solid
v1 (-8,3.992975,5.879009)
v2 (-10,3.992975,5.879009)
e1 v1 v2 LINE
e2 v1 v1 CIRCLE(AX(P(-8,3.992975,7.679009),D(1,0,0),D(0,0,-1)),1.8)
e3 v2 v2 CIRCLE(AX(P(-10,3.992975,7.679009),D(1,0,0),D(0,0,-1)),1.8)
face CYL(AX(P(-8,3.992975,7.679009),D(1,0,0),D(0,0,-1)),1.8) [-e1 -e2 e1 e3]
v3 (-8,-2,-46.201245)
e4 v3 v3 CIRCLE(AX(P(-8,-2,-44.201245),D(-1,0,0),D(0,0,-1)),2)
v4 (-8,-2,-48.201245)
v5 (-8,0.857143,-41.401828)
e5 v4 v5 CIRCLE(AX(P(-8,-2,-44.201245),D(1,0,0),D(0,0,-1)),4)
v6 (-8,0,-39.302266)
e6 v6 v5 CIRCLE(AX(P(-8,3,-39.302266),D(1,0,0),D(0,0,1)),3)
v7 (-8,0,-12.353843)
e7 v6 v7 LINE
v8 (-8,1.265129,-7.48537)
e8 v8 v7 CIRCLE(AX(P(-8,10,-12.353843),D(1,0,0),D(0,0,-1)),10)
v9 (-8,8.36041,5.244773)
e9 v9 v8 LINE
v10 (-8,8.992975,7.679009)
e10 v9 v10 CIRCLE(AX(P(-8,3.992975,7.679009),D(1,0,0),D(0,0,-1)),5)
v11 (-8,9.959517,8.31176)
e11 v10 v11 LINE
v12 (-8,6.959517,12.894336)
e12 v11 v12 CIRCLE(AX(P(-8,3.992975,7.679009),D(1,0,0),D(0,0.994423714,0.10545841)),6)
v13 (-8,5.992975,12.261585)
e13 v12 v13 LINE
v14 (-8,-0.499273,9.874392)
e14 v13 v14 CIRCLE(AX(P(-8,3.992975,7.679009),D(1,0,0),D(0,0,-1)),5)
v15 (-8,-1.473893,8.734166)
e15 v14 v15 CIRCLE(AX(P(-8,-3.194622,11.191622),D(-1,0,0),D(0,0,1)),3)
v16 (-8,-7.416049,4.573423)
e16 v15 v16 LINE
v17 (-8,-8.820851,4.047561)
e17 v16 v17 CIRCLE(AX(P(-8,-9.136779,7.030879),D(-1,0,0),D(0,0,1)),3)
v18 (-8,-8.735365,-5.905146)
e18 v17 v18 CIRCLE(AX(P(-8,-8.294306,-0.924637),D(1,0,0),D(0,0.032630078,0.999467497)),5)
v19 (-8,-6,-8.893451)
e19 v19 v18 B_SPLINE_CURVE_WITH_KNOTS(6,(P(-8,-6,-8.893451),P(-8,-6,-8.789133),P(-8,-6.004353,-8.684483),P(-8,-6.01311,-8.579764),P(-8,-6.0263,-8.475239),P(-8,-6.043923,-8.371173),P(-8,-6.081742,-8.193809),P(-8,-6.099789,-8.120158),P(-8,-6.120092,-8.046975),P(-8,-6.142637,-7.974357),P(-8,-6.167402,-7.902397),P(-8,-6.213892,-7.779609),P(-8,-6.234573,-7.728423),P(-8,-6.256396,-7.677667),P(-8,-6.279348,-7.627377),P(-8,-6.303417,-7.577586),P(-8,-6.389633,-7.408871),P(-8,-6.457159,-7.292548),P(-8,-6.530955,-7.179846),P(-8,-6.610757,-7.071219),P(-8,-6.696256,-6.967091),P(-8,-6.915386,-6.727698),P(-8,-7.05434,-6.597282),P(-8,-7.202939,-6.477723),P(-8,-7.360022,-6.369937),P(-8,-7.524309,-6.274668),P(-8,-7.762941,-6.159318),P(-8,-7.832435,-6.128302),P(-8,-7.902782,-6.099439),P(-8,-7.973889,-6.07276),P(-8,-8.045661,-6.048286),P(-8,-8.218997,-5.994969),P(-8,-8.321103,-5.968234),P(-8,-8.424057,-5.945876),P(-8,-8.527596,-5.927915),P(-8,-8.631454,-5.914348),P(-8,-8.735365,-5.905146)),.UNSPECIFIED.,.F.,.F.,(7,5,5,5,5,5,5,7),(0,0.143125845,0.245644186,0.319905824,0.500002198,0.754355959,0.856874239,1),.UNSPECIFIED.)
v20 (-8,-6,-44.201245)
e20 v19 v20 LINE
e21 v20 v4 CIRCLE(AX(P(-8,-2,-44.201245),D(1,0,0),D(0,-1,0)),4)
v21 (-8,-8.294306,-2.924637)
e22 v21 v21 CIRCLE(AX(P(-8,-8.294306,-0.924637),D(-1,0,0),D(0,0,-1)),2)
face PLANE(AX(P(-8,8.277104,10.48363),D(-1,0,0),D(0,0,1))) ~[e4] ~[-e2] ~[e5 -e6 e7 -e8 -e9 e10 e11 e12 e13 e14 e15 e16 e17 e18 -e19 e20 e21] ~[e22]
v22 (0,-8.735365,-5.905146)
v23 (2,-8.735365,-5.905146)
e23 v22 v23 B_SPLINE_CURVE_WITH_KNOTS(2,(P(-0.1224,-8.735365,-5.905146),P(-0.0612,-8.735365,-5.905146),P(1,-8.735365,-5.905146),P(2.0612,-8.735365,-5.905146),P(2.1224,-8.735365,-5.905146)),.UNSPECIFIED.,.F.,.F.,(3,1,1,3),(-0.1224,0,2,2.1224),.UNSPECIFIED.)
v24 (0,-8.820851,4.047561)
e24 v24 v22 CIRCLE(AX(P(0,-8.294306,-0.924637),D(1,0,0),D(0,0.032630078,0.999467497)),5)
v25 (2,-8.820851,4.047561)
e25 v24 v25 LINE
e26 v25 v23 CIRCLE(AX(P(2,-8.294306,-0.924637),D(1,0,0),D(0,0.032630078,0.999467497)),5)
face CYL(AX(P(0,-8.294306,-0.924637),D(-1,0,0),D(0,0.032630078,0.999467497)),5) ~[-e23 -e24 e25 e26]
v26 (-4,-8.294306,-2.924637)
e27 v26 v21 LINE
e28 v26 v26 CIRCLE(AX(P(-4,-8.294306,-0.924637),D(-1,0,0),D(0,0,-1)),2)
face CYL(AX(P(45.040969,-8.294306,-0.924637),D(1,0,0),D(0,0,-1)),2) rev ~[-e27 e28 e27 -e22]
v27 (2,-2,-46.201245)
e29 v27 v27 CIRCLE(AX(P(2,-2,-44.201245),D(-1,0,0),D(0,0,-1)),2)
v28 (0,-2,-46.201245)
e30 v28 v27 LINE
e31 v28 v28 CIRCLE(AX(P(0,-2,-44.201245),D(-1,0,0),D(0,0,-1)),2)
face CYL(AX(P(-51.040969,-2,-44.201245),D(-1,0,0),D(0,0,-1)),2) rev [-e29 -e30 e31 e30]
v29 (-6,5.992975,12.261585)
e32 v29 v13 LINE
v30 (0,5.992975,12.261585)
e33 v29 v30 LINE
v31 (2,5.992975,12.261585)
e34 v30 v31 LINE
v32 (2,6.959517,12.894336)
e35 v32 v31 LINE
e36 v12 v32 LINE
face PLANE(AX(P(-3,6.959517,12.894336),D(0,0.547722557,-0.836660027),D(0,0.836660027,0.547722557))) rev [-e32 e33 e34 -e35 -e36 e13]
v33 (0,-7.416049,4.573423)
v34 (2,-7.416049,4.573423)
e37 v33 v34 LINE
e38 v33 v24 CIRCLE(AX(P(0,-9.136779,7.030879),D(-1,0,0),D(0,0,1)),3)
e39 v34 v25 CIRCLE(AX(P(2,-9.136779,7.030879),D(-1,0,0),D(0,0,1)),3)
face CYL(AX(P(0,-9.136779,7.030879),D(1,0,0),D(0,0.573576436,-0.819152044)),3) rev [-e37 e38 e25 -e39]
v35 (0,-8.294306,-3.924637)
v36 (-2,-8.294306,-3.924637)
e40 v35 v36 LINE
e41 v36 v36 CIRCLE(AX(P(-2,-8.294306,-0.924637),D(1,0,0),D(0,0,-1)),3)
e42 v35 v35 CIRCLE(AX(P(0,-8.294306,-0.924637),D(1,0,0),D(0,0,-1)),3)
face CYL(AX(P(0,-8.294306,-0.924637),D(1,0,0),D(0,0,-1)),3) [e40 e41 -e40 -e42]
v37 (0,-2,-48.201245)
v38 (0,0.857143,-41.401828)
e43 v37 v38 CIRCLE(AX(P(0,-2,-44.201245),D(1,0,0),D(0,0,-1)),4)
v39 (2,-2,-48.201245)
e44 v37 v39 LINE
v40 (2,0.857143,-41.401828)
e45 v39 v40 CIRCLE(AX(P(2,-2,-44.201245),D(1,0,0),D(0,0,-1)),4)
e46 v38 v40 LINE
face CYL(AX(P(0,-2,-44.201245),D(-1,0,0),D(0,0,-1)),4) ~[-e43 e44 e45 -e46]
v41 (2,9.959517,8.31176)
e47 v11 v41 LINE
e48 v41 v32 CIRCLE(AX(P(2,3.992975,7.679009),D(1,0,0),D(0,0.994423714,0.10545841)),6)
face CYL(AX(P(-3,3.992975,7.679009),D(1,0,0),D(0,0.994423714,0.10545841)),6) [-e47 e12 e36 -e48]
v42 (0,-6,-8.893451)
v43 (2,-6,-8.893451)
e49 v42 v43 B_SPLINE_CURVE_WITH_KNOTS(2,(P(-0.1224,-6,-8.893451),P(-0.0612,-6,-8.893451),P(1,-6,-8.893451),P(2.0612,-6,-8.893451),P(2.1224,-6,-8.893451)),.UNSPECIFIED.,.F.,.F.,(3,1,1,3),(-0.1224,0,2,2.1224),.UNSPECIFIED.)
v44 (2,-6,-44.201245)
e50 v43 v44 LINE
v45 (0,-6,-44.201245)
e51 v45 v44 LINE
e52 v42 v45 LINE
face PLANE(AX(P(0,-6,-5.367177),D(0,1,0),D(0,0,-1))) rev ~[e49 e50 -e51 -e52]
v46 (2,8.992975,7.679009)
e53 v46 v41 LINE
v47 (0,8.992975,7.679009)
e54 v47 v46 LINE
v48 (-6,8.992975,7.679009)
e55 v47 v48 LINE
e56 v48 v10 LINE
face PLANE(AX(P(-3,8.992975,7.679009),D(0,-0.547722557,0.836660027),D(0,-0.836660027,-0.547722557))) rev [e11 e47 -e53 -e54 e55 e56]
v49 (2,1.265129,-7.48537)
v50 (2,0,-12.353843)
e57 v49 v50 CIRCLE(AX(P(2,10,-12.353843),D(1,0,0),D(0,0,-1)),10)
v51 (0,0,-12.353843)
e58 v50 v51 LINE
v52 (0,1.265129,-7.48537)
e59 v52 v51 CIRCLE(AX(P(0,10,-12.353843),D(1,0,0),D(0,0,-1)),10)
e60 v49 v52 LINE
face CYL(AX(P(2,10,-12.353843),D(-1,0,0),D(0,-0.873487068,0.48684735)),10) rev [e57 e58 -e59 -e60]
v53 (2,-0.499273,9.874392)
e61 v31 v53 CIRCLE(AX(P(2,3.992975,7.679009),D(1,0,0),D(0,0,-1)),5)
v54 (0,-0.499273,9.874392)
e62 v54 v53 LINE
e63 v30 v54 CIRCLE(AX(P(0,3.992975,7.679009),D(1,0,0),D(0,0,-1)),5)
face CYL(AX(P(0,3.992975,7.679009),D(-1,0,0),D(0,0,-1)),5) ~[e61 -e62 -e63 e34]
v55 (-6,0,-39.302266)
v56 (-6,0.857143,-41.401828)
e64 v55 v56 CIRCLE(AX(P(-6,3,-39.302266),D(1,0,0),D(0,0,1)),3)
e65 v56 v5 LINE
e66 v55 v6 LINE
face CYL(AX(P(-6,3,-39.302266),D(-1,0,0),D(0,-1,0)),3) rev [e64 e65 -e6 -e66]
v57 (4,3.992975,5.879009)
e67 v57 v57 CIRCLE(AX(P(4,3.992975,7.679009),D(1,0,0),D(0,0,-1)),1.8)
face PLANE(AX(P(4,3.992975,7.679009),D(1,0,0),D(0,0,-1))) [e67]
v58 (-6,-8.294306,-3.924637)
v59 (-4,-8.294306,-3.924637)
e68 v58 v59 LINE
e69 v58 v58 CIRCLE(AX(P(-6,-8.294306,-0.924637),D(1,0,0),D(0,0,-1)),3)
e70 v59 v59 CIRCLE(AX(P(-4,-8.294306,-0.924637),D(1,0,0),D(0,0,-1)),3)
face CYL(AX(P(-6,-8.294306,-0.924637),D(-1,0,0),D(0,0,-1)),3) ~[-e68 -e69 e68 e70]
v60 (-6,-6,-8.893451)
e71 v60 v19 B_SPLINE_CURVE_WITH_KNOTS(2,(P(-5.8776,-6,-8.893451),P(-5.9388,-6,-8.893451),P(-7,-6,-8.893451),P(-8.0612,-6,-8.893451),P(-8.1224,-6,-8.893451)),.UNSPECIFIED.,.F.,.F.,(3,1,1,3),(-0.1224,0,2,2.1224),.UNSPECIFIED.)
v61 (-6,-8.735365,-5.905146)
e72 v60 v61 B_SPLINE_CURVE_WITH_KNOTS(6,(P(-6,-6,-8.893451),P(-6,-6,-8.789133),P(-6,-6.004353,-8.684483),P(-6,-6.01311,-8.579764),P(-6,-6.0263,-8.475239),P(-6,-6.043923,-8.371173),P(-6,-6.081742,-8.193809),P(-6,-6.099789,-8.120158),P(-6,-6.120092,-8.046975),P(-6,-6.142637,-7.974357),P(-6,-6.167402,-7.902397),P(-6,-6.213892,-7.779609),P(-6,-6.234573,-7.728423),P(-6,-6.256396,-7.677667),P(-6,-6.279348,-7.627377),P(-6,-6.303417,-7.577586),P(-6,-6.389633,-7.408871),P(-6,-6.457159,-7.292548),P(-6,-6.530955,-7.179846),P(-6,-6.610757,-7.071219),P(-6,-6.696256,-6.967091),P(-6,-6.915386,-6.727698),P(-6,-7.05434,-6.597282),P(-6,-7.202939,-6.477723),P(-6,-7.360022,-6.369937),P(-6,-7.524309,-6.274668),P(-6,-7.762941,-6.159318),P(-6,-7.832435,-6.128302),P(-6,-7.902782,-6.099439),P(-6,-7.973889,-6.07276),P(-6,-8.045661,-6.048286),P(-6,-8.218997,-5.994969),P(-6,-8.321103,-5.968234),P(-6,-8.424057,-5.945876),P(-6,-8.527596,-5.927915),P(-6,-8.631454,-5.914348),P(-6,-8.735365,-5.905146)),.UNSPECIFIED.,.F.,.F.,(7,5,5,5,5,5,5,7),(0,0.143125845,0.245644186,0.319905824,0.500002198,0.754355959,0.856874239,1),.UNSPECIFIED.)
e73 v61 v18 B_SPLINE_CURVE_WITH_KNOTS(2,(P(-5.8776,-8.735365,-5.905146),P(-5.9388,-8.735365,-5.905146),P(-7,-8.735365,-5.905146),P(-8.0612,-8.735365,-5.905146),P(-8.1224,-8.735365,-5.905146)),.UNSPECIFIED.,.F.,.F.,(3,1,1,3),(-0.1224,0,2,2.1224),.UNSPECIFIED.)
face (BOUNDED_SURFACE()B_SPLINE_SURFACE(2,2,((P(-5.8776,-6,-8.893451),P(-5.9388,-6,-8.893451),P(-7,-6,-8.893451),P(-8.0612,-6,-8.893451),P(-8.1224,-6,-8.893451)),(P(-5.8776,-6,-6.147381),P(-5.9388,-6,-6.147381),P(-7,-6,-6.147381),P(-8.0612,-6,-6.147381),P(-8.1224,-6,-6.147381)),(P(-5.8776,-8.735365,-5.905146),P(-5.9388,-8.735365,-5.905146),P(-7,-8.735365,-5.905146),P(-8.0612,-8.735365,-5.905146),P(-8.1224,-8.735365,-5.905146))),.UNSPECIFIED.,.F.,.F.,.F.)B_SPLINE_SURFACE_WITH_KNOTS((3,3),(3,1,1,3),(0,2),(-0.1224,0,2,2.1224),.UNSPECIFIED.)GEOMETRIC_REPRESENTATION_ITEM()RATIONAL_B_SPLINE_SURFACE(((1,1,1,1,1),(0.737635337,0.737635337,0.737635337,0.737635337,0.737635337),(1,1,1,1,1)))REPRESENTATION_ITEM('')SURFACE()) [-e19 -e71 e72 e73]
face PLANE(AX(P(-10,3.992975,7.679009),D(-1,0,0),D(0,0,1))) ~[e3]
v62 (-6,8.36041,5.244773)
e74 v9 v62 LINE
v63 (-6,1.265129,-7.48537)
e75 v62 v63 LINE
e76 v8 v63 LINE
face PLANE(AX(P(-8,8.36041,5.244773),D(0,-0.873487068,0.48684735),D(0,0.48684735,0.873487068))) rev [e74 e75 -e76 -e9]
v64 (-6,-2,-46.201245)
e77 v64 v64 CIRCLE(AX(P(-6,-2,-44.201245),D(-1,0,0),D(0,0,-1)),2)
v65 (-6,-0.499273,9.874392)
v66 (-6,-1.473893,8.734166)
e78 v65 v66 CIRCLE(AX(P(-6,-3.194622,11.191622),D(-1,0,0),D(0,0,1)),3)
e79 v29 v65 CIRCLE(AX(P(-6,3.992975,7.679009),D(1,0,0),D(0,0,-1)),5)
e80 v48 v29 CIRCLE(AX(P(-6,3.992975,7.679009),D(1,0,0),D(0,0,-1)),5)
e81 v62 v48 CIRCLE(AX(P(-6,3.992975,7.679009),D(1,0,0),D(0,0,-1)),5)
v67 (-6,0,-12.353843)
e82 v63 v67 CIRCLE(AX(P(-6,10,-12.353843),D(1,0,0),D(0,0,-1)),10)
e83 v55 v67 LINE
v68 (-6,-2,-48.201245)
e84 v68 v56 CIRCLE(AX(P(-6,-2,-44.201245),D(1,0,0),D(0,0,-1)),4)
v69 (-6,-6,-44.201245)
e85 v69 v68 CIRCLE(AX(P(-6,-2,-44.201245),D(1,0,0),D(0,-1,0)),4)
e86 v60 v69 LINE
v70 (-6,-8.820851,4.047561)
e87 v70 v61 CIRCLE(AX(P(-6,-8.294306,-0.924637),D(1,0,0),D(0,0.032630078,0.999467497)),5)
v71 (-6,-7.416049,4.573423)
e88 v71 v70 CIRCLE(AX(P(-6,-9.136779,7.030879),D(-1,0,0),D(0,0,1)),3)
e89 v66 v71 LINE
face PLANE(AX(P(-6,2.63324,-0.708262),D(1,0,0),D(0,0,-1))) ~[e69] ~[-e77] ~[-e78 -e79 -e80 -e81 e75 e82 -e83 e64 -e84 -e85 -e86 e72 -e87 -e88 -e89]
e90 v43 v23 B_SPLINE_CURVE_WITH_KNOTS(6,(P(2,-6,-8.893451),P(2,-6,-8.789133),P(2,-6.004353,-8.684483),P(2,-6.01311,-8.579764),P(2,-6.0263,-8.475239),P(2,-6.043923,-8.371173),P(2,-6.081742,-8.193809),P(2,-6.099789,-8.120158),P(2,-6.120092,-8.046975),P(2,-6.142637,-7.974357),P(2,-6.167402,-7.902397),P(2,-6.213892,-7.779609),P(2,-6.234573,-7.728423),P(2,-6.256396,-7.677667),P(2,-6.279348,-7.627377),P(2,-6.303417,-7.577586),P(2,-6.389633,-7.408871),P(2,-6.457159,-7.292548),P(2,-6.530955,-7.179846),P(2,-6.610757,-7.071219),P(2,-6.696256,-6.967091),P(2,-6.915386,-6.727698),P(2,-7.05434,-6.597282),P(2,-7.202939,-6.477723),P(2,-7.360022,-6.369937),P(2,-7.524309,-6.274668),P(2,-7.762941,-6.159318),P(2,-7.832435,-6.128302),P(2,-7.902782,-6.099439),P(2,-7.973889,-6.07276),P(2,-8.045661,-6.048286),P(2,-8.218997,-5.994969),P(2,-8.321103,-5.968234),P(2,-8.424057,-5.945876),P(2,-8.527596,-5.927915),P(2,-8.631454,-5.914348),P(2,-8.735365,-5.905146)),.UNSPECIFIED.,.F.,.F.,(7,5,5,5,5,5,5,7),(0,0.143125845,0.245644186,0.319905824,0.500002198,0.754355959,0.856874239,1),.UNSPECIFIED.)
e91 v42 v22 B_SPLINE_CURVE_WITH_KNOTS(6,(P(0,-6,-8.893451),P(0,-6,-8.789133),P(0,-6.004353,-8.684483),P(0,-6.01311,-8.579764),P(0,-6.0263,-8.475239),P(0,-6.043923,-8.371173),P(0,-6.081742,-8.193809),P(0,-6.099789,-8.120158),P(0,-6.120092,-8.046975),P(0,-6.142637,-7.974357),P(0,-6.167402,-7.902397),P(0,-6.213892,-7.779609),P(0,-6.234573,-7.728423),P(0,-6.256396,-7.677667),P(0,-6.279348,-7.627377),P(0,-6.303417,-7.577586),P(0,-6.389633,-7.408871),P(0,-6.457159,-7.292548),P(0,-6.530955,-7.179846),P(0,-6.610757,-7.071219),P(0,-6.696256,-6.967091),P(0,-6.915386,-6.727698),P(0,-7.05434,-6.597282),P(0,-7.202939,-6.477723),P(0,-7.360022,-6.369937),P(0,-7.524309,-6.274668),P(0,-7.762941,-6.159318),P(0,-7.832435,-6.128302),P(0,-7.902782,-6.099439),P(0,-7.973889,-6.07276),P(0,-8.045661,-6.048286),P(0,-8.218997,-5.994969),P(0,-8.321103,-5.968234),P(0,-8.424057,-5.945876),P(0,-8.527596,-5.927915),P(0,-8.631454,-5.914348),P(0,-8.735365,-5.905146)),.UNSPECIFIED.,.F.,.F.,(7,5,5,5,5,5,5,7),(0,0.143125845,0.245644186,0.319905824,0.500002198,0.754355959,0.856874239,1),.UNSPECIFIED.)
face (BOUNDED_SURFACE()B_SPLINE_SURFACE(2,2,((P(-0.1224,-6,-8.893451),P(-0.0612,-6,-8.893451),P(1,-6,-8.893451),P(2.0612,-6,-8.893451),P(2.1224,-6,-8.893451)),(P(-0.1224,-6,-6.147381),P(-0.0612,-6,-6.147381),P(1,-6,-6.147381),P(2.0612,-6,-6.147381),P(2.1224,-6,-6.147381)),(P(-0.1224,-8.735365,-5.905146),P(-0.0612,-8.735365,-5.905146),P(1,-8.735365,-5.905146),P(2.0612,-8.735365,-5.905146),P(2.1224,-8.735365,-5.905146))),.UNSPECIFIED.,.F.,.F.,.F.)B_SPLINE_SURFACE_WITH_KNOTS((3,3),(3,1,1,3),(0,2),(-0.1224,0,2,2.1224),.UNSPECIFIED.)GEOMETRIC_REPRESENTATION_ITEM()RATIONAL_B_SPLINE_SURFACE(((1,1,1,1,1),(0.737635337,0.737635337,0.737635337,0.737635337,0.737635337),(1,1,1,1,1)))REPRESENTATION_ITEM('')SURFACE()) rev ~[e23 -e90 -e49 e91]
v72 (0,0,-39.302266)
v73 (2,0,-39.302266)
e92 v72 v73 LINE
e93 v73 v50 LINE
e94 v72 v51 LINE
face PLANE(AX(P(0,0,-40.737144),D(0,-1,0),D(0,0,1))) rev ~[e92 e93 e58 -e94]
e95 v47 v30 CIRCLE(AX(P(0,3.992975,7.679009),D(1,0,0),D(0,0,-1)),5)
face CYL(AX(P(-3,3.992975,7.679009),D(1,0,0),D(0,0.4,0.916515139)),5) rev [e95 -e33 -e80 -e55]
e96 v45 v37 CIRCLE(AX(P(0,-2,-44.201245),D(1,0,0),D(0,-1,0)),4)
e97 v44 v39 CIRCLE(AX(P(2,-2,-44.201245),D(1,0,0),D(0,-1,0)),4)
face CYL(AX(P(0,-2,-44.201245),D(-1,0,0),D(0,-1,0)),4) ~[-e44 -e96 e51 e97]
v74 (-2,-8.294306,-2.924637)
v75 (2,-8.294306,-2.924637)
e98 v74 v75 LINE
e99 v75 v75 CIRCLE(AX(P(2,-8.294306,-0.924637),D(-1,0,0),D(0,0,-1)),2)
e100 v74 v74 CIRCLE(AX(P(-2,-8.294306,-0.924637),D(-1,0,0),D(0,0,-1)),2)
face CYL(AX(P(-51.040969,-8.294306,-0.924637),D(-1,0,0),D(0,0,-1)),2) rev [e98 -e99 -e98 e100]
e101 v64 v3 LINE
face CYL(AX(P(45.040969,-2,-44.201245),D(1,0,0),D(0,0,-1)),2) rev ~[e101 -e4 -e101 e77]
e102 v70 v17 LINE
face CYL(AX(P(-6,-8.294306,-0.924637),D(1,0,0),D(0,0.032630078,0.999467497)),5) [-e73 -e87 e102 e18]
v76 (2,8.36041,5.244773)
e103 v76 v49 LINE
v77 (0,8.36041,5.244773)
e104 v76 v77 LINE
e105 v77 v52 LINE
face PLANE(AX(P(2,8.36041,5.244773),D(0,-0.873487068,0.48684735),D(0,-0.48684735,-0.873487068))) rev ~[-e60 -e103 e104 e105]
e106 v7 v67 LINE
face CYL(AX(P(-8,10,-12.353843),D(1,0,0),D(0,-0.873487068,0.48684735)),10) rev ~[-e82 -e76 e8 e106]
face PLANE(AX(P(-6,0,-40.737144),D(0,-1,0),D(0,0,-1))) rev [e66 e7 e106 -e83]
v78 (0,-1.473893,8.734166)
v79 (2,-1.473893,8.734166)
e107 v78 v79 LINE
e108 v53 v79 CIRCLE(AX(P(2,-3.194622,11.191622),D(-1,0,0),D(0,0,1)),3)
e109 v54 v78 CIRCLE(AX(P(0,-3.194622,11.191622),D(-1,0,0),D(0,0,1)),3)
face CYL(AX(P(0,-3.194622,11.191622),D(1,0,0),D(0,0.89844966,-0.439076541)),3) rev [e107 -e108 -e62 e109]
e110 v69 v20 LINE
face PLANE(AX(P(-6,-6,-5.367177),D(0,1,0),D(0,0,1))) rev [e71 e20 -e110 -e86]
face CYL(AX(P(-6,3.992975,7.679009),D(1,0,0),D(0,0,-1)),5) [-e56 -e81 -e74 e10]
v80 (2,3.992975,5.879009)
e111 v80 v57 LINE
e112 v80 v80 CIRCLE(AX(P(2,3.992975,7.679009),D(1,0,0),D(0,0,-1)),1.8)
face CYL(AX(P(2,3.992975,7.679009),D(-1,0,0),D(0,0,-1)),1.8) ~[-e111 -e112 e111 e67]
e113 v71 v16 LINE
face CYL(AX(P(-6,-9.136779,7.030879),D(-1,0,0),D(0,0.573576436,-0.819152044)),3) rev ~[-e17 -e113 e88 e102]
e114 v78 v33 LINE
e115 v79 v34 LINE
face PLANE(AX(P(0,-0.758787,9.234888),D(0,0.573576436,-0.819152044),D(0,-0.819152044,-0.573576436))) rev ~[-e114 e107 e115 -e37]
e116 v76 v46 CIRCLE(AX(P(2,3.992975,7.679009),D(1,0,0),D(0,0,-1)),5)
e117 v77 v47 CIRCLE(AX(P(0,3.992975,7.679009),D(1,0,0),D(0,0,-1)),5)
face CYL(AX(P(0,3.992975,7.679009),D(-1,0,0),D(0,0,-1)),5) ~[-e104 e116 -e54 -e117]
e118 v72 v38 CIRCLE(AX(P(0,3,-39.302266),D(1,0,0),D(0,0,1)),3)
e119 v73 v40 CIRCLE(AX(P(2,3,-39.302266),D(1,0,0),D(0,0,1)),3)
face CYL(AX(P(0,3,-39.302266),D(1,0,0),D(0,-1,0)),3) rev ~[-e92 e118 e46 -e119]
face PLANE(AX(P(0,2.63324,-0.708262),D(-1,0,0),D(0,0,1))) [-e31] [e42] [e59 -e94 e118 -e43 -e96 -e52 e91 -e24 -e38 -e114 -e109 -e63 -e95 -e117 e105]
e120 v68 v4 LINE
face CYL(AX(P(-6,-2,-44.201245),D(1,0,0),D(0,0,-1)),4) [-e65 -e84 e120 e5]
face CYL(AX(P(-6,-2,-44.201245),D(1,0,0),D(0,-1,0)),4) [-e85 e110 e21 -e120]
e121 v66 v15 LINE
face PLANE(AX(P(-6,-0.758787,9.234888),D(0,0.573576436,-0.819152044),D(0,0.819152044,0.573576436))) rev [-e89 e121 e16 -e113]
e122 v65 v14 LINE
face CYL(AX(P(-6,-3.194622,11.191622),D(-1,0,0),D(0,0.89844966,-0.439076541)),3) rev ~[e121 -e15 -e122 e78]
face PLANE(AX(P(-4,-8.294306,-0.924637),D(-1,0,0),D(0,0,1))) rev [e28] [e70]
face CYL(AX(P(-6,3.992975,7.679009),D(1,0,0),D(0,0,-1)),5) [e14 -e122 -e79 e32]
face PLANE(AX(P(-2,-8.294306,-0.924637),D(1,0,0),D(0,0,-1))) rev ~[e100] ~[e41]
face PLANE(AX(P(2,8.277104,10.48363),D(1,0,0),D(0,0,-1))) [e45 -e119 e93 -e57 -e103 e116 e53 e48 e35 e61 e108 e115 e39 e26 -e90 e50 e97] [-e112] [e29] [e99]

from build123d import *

# Parameters (mm, degrees)
EXTRUDE_1_DEPTH          = 2
SKETCH_1_4_R             = 3
EXTRUDE_2_DEPTH          = 2
CUT_EXTRUDE_1_DEPTH      = 51.040969284
CUT_EXTRUDE_1_DEPTH_BACK = 51.040969284
SKETCH_1_3_R             = 2
FILLET_1_R               = 3
EXTRUDE_START            = -2
SKETCH_2_R               = 2
EXTRUDE_3_DEPTH          = 2
SKETCH_2_3_R             = 1.8
EXTRUDE_4_DEPTH          = 2
EXTRUDE_6_DEPTH          = 2
EXTRUDE_START_2          = -5
EXTRUDE_5_DEPTH          = 5
FILLET_3_R               = 10


with BuildPart() as part:
    # 草图1 → 凸台-拉伸1 (new body)
    with BuildSketch(Plane(origin=(0, 0, 0), x_dir=(0, 0, -1), z_dir=(1, 0, 0))):
        with BuildLine():
            Line((40.737143614, 0), (0, 0))
            Line((0, 0), (2.48051592, -3.542543867))
            ThreePointArc((2.48051592, -3.542543867), (4.165783411, -4.487079684), (5.367176995, -6))
            Line((5.367176995, -6), (44.201245229, -6))
            ThreePointArc((44.201245229, -6), (40.737143614, -4), (40.737143614, 0))
        make_face()
        with BuildLine():
            Line((2.48051592, -3.542543867), (0, 0))
            Line((0, 0), (-2.681672007, 3.829824531))
            ThreePointArc((-2.681672007, 3.829824531), (-4.811127311, -0.102785303), (-9.234888361, -0.758786959))
            Line((-9.234888361, -0.758786959), (-4.072700434, -8.131155358))
            ThreePointArc((-4.072700434, -8.131155358), (-1.94324513, -4.198545524), (2.48051592, -3.542543867))
        make_face()
        with BuildLine():
            ThreePointArc((48.201245229, -2), (45.23652141, 1.863703305), (40.737143614, 0))
            Line((40.737143614, 0), (44.201245229, 0))
            ThreePointArc((44.201245229, 0), (45.615458792, -0.585786438), (46.201245229, -2))
            ThreePointArc((46.201245229, -2), (45.615458792, -3.414213562), (44.201245229, -4))
            Line((44.201245229, -4), (44.201245229, -6))
            ThreePointArc((44.201245229, -6), (47.029672354, -4.828427125), (48.201245229, -2))
        make_face()
        with BuildLine():
            Line((44.201245229, 0), (40.737143614, 0))
            ThreePointArc((40.737143614, 0), (40.737143614, -4), (44.201245229, -6))
            Line((44.201245229, -6), (44.201245229, -4))
            ThreePointArc((44.201245229, -4), (42.201245229, -2), (44.201245229, 0))
        make_face()
        with BuildLine():
            ThreePointArc((5.367176995, -6), (4.165783411, -4.487079684), (2.48051592, -3.542543867))
            Line((2.48051592, -3.542543867), (4.201245229, -6))
            Line((4.201245229, -6), (5.367176995, -6))
        make_face()
        with BuildLine():
            Line((4.201245229, -6), (2.48051592, -3.542543867))
            ThreePointArc((2.48051592, -3.542543867), (-1.94324513, -4.198545524), (-4.072700434, -8.131155358))
            Line((-4.072700434, -8.131155358), (-2.351971125, -10.588611491))
            Line((-2.351971125, -10.588611491), (-1.532819081, -10.015035054))
            ThreePointArc((-1.532819081, -10.015035054), (-0.796092257, -5.836849613), (3.382093185, -6.573576436))
            Line((3.382093185, -6.573576436), (4.201245229, -6))
        make_face()
        with BuildLine():
            ThreePointArc((-9.234888361, -0.758786959), (-4.811127311, -0.102785303), (-2.681672007, 3.829824531))
            Line((-2.681672007, 3.829824531), (-4.402401316, 6.287280664))
            Line((-4.402401316, 6.287280664), (-6.040705405, 5.140127792))
            ThreePointArc((-6.040705405, 5.140127792), (-5.771575592, 4.594386518), (-5.679009493, 3.992974919))
            ThreePointArc((-5.679009493, 3.992974919), (-7.077597894, 2.085541017), (-9.317313582, 2.845822046))
            Line((-9.317313582, 2.845822046), (-10.95561767, 1.698669174))
            Line((-10.95561767, 1.698669174), (-9.234888361, -0.758786959))
        make_face()
        with BuildLine():
            Line((-4.402401316, 6.287280664), (-2.681672007, 3.829824531))
            ThreePointArc((-2.681672007, 3.829824531), (-2.679675166, 3.911388863), (-2.679009493, 3.992974919))
            ThreePointArc((-2.679009493, 3.992974919), (-10.613341245, 8.041394014), (-9.234888361, -0.758786959))
            Line((-9.234888361, -0.758786959), (-10.95561767, 1.698669174))
            Line((-10.95561767, 1.698669174), (-9.317313582, 2.845822046))
            ThreePointArc((-9.317313582, 2.845822046), (-8.826162366, 5.631279008), (-6.040705405, 5.140127792))
            Line((-6.040705405, 5.140127792), (-4.402401316, 6.287280664))
        make_face()
        with BuildLine():
            ThreePointArc((46.201245229, -2), (45.615458792, -0.585786438), (44.201245229, 0))
            Line((44.201245229, 0), (44.201245229, -4))
            ThreePointArc((44.201245229, -4), (45.615458792, -3.414213562), (46.201245229, -2))
        make_face()
        with BuildLine():
            Line((44.201245229, -4), (44.201245229, 0))
            ThreePointArc((44.201245229, 0), (42.201245229, -2), (44.201245229, -4))
        make_face()
        with BuildLine():
            Line((5.367176995, -6), (4.201245229, -6))
            Line((4.201245229, -6), (3.382093185, -6.573576436))
            ThreePointArc((3.382093185, -6.573576436), (3.785787904, -7.392188347), (3.924637052, -8.294305745))
            ThreePointArc((3.924637052, -8.294305745), (1.826754451, -11.155456598), (-1.532819081, -10.015035054))
            Line((-1.532819081, -10.015035054), (-2.351971125, -10.588611491))
            Line((-2.351971125, -10.588611491), (-4.072700434, -8.131155358))
            ThreePointArc((-4.072700434, -8.131155358), (0.843050996, -13.293640073), (5.924637052, -8.294305745))
            ThreePointArc((5.924637052, -8.294305745), (5.783273678, -7.113776143), (5.367176995, -6))
        make_face()
        with BuildLine():
            ThreePointArc((3.924637052, -8.294305745), (3.785787904, -7.392188347), (3.382093185, -6.573576436))
            Line((3.382093185, -6.573576436), (2.562941141, -7.147152873))
            ThreePointArc((2.562941141, -7.147152873), (2.832070954, -7.692894146), (2.924637052, -8.294305745))
            ThreePointArc((2.924637052, -8.294305745), (1.526048651, -10.201739647), (-0.713667036, -9.441458618))
            Line((-0.713667036, -9.441458618), (-1.532819081, -10.015035054))
            ThreePointArc((-1.532819081, -10.015035054), (1.826754451, -11.155456598), (3.924637052, -8.294305745))
        make_face()
        with BuildLine():
            Line((2.562941141, -7.147152873), (3.382093185, -6.573576436))
            ThreePointArc((3.382093185, -6.573576436), (-0.796092257, -5.836849613), (-1.532819081, -10.015035054))
            Line((-1.532819081, -10.015035054), (-0.713667036, -9.441458618))
            ThreePointArc((-0.713667036, -9.441458618), (-0.222515821, -6.656001657), (2.562941141, -7.147152873))
        make_face()
        with BuildLine():
            ThreePointArc((-5.679009493, 3.992974919), (-5.771575592, 4.594386518), (-6.040705405, 5.140127792))
            Line((-6.040705405, 5.140127792), (-9.317313582, 2.845822046))
            ThreePointArc((-9.317313582, 2.845822046), (-7.077597894, 2.085541017), (-5.679009493, 3.992974919))
        make_face()
        with BuildLine():
            Line((-9.317313582, 2.845822046), (-6.040705405, 5.140127792))
            ThreePointArc((-6.040705405, 5.140127792), (-8.826162366, 5.631279008), (-9.317313582, 2.845822046))
        make_face()
        with BuildLine():
            ThreePointArc((2.924637052, -8.294305745), (2.832070954, -7.692894146), (2.562941141, -7.147152873))
            Line((2.562941141, -7.147152873), (-0.713667036, -9.441458618))
            ThreePointArc((-0.713667036, -9.441458618), (1.526048651, -10.201739647), (2.924637052, -8.294305745))
        make_face()
        with BuildLine():
            Line((-0.713667036, -9.441458618), (2.562941141, -7.147152873))
            ThreePointArc((2.562941141, -7.147152873), (-0.222515821, -6.656001657), (-0.713667036, -9.441458618))
        make_face()
    extrude(amount=EXTRUDE_1_DEPTH)

    # 草图1<4> → 凸台-拉伸2 (add)
    with BuildSketch(Plane(origin=(0, 0, 0), x_dir=(0, 0, -1), z_dir=(1, 0, 0))):
        with Locations((0.924637052, -8.294305745)):
            Circle(SKETCH_1_4_R)
    extrude(amount=-EXTRUDE_2_DEPTH)

    # 草图1<3> → 切除-拉伸1 (cut, two sides: drawn at the far end of the back side and taken through both)
    with BuildSketch(Plane(origin=(0, 0, 0), x_dir=(0, 0, -1), z_dir=(1, 0, 0)).offset(-CUT_EXTRUDE_1_DEPTH_BACK)):
        with Locations((-7.679009493, 3.992974919)):
            Circle(SKETCH_1_3_R)
        with Locations((44.201245229, -2)):
            Circle(SKETCH_1_3_R)
        with Locations((0.924637052, -8.294305745)):
            Circle(SKETCH_1_3_R)
    extrude(amount=CUT_EXTRUDE_1_DEPTH + CUT_EXTRUDE_1_DEPTH_BACK, mode=Mode.SUBTRACT)

    # 圆角1
    fillet_1_edges = [part.edges().sort_by_distance(p)[0] for p in [
        (1, -6, -5.367176995),
        (1, 0, 0),
        (1, 0, -40.737143614),
        (1, -0.758786959, 9.234888361),
        (1, -8.131155358, 4.072700434),
    ]]
    fillet(fillet_1_edges, radius=FILLET_1_R)

    # 草图2 → 凸台-拉伸3 (add)
    with BuildSketch(Plane(origin=(2, 0, 0), x_dir=(0, 0, -1), z_dir=(1, 0, 0)).offset(EXTRUDE_START)):
        with Locations((-7.679009493, 3.992974919)):
            Circle(SKETCH_2_R)
    extrude(amount=EXTRUDE_3_DEPTH)

    # 草图2<3> → 凸台-拉伸4 (add)
    with BuildSketch(Plane(origin=(2, 0, 0), x_dir=(0, 0, -1), z_dir=(1, 0, 0))):
        with Locations((-7.679009493, 3.992974919)):
            Circle(SKETCH_2_3_R)
    extrude(amount=EXTRUDE_4_DEPTH)

    # 草图4 → 凸台-拉伸6 (add)
    with BuildSketch(Plane(origin=(2, 0, 0), x_dir=(0, 0, -1), z_dir=(1, 0, 0))):
        Polygon((-5.244772745, 8.360410259), (9.755227255, 0), (-5.244772745, 0), align=None)
    extrude(amount=-EXTRUDE_6_DEPTH)

    # 草图3 → 凸台-拉伸5 (add)
    with BuildSketch(Plane(origin=(2, 0, 0), x_dir=(0, 0, -1), z_dir=(1, 0, 0)).offset(EXTRUDE_START_2)):
        with BuildLine():
            Line((-12.894335644, 6.959517206), (-12.261585188, 5.992974919))
            ThreePointArc((-12.261585188, 5.992974919), (-10.417622281, 8.176275052), (-7.679009493, 8.992974919))
            Line((-7.679009493, 8.992974919), (-8.311759949, 9.959517206))
            ThreePointArc((-8.311759949, 9.959517206), (-10.965344838, 9.012935078), (-12.894335644, 6.959517206))
        make_face()
    extrude(amount=EXTRUDE_5_DEPTH)

    # 圆角3
    fillet_3_edges = [part.edges().sort_by_distance(p)[0] for p in [
        (1, 0, -9.755227255),
    ]]
    fillet(fillet_3_edges, radius=FILLET_3_R)

    # 镜向1: part across plane


with BuildPart() as part_1:
    add(part.part)
    add(part.part.mirror(Plane.ZY.offset(3)))


solid = part_1.part
